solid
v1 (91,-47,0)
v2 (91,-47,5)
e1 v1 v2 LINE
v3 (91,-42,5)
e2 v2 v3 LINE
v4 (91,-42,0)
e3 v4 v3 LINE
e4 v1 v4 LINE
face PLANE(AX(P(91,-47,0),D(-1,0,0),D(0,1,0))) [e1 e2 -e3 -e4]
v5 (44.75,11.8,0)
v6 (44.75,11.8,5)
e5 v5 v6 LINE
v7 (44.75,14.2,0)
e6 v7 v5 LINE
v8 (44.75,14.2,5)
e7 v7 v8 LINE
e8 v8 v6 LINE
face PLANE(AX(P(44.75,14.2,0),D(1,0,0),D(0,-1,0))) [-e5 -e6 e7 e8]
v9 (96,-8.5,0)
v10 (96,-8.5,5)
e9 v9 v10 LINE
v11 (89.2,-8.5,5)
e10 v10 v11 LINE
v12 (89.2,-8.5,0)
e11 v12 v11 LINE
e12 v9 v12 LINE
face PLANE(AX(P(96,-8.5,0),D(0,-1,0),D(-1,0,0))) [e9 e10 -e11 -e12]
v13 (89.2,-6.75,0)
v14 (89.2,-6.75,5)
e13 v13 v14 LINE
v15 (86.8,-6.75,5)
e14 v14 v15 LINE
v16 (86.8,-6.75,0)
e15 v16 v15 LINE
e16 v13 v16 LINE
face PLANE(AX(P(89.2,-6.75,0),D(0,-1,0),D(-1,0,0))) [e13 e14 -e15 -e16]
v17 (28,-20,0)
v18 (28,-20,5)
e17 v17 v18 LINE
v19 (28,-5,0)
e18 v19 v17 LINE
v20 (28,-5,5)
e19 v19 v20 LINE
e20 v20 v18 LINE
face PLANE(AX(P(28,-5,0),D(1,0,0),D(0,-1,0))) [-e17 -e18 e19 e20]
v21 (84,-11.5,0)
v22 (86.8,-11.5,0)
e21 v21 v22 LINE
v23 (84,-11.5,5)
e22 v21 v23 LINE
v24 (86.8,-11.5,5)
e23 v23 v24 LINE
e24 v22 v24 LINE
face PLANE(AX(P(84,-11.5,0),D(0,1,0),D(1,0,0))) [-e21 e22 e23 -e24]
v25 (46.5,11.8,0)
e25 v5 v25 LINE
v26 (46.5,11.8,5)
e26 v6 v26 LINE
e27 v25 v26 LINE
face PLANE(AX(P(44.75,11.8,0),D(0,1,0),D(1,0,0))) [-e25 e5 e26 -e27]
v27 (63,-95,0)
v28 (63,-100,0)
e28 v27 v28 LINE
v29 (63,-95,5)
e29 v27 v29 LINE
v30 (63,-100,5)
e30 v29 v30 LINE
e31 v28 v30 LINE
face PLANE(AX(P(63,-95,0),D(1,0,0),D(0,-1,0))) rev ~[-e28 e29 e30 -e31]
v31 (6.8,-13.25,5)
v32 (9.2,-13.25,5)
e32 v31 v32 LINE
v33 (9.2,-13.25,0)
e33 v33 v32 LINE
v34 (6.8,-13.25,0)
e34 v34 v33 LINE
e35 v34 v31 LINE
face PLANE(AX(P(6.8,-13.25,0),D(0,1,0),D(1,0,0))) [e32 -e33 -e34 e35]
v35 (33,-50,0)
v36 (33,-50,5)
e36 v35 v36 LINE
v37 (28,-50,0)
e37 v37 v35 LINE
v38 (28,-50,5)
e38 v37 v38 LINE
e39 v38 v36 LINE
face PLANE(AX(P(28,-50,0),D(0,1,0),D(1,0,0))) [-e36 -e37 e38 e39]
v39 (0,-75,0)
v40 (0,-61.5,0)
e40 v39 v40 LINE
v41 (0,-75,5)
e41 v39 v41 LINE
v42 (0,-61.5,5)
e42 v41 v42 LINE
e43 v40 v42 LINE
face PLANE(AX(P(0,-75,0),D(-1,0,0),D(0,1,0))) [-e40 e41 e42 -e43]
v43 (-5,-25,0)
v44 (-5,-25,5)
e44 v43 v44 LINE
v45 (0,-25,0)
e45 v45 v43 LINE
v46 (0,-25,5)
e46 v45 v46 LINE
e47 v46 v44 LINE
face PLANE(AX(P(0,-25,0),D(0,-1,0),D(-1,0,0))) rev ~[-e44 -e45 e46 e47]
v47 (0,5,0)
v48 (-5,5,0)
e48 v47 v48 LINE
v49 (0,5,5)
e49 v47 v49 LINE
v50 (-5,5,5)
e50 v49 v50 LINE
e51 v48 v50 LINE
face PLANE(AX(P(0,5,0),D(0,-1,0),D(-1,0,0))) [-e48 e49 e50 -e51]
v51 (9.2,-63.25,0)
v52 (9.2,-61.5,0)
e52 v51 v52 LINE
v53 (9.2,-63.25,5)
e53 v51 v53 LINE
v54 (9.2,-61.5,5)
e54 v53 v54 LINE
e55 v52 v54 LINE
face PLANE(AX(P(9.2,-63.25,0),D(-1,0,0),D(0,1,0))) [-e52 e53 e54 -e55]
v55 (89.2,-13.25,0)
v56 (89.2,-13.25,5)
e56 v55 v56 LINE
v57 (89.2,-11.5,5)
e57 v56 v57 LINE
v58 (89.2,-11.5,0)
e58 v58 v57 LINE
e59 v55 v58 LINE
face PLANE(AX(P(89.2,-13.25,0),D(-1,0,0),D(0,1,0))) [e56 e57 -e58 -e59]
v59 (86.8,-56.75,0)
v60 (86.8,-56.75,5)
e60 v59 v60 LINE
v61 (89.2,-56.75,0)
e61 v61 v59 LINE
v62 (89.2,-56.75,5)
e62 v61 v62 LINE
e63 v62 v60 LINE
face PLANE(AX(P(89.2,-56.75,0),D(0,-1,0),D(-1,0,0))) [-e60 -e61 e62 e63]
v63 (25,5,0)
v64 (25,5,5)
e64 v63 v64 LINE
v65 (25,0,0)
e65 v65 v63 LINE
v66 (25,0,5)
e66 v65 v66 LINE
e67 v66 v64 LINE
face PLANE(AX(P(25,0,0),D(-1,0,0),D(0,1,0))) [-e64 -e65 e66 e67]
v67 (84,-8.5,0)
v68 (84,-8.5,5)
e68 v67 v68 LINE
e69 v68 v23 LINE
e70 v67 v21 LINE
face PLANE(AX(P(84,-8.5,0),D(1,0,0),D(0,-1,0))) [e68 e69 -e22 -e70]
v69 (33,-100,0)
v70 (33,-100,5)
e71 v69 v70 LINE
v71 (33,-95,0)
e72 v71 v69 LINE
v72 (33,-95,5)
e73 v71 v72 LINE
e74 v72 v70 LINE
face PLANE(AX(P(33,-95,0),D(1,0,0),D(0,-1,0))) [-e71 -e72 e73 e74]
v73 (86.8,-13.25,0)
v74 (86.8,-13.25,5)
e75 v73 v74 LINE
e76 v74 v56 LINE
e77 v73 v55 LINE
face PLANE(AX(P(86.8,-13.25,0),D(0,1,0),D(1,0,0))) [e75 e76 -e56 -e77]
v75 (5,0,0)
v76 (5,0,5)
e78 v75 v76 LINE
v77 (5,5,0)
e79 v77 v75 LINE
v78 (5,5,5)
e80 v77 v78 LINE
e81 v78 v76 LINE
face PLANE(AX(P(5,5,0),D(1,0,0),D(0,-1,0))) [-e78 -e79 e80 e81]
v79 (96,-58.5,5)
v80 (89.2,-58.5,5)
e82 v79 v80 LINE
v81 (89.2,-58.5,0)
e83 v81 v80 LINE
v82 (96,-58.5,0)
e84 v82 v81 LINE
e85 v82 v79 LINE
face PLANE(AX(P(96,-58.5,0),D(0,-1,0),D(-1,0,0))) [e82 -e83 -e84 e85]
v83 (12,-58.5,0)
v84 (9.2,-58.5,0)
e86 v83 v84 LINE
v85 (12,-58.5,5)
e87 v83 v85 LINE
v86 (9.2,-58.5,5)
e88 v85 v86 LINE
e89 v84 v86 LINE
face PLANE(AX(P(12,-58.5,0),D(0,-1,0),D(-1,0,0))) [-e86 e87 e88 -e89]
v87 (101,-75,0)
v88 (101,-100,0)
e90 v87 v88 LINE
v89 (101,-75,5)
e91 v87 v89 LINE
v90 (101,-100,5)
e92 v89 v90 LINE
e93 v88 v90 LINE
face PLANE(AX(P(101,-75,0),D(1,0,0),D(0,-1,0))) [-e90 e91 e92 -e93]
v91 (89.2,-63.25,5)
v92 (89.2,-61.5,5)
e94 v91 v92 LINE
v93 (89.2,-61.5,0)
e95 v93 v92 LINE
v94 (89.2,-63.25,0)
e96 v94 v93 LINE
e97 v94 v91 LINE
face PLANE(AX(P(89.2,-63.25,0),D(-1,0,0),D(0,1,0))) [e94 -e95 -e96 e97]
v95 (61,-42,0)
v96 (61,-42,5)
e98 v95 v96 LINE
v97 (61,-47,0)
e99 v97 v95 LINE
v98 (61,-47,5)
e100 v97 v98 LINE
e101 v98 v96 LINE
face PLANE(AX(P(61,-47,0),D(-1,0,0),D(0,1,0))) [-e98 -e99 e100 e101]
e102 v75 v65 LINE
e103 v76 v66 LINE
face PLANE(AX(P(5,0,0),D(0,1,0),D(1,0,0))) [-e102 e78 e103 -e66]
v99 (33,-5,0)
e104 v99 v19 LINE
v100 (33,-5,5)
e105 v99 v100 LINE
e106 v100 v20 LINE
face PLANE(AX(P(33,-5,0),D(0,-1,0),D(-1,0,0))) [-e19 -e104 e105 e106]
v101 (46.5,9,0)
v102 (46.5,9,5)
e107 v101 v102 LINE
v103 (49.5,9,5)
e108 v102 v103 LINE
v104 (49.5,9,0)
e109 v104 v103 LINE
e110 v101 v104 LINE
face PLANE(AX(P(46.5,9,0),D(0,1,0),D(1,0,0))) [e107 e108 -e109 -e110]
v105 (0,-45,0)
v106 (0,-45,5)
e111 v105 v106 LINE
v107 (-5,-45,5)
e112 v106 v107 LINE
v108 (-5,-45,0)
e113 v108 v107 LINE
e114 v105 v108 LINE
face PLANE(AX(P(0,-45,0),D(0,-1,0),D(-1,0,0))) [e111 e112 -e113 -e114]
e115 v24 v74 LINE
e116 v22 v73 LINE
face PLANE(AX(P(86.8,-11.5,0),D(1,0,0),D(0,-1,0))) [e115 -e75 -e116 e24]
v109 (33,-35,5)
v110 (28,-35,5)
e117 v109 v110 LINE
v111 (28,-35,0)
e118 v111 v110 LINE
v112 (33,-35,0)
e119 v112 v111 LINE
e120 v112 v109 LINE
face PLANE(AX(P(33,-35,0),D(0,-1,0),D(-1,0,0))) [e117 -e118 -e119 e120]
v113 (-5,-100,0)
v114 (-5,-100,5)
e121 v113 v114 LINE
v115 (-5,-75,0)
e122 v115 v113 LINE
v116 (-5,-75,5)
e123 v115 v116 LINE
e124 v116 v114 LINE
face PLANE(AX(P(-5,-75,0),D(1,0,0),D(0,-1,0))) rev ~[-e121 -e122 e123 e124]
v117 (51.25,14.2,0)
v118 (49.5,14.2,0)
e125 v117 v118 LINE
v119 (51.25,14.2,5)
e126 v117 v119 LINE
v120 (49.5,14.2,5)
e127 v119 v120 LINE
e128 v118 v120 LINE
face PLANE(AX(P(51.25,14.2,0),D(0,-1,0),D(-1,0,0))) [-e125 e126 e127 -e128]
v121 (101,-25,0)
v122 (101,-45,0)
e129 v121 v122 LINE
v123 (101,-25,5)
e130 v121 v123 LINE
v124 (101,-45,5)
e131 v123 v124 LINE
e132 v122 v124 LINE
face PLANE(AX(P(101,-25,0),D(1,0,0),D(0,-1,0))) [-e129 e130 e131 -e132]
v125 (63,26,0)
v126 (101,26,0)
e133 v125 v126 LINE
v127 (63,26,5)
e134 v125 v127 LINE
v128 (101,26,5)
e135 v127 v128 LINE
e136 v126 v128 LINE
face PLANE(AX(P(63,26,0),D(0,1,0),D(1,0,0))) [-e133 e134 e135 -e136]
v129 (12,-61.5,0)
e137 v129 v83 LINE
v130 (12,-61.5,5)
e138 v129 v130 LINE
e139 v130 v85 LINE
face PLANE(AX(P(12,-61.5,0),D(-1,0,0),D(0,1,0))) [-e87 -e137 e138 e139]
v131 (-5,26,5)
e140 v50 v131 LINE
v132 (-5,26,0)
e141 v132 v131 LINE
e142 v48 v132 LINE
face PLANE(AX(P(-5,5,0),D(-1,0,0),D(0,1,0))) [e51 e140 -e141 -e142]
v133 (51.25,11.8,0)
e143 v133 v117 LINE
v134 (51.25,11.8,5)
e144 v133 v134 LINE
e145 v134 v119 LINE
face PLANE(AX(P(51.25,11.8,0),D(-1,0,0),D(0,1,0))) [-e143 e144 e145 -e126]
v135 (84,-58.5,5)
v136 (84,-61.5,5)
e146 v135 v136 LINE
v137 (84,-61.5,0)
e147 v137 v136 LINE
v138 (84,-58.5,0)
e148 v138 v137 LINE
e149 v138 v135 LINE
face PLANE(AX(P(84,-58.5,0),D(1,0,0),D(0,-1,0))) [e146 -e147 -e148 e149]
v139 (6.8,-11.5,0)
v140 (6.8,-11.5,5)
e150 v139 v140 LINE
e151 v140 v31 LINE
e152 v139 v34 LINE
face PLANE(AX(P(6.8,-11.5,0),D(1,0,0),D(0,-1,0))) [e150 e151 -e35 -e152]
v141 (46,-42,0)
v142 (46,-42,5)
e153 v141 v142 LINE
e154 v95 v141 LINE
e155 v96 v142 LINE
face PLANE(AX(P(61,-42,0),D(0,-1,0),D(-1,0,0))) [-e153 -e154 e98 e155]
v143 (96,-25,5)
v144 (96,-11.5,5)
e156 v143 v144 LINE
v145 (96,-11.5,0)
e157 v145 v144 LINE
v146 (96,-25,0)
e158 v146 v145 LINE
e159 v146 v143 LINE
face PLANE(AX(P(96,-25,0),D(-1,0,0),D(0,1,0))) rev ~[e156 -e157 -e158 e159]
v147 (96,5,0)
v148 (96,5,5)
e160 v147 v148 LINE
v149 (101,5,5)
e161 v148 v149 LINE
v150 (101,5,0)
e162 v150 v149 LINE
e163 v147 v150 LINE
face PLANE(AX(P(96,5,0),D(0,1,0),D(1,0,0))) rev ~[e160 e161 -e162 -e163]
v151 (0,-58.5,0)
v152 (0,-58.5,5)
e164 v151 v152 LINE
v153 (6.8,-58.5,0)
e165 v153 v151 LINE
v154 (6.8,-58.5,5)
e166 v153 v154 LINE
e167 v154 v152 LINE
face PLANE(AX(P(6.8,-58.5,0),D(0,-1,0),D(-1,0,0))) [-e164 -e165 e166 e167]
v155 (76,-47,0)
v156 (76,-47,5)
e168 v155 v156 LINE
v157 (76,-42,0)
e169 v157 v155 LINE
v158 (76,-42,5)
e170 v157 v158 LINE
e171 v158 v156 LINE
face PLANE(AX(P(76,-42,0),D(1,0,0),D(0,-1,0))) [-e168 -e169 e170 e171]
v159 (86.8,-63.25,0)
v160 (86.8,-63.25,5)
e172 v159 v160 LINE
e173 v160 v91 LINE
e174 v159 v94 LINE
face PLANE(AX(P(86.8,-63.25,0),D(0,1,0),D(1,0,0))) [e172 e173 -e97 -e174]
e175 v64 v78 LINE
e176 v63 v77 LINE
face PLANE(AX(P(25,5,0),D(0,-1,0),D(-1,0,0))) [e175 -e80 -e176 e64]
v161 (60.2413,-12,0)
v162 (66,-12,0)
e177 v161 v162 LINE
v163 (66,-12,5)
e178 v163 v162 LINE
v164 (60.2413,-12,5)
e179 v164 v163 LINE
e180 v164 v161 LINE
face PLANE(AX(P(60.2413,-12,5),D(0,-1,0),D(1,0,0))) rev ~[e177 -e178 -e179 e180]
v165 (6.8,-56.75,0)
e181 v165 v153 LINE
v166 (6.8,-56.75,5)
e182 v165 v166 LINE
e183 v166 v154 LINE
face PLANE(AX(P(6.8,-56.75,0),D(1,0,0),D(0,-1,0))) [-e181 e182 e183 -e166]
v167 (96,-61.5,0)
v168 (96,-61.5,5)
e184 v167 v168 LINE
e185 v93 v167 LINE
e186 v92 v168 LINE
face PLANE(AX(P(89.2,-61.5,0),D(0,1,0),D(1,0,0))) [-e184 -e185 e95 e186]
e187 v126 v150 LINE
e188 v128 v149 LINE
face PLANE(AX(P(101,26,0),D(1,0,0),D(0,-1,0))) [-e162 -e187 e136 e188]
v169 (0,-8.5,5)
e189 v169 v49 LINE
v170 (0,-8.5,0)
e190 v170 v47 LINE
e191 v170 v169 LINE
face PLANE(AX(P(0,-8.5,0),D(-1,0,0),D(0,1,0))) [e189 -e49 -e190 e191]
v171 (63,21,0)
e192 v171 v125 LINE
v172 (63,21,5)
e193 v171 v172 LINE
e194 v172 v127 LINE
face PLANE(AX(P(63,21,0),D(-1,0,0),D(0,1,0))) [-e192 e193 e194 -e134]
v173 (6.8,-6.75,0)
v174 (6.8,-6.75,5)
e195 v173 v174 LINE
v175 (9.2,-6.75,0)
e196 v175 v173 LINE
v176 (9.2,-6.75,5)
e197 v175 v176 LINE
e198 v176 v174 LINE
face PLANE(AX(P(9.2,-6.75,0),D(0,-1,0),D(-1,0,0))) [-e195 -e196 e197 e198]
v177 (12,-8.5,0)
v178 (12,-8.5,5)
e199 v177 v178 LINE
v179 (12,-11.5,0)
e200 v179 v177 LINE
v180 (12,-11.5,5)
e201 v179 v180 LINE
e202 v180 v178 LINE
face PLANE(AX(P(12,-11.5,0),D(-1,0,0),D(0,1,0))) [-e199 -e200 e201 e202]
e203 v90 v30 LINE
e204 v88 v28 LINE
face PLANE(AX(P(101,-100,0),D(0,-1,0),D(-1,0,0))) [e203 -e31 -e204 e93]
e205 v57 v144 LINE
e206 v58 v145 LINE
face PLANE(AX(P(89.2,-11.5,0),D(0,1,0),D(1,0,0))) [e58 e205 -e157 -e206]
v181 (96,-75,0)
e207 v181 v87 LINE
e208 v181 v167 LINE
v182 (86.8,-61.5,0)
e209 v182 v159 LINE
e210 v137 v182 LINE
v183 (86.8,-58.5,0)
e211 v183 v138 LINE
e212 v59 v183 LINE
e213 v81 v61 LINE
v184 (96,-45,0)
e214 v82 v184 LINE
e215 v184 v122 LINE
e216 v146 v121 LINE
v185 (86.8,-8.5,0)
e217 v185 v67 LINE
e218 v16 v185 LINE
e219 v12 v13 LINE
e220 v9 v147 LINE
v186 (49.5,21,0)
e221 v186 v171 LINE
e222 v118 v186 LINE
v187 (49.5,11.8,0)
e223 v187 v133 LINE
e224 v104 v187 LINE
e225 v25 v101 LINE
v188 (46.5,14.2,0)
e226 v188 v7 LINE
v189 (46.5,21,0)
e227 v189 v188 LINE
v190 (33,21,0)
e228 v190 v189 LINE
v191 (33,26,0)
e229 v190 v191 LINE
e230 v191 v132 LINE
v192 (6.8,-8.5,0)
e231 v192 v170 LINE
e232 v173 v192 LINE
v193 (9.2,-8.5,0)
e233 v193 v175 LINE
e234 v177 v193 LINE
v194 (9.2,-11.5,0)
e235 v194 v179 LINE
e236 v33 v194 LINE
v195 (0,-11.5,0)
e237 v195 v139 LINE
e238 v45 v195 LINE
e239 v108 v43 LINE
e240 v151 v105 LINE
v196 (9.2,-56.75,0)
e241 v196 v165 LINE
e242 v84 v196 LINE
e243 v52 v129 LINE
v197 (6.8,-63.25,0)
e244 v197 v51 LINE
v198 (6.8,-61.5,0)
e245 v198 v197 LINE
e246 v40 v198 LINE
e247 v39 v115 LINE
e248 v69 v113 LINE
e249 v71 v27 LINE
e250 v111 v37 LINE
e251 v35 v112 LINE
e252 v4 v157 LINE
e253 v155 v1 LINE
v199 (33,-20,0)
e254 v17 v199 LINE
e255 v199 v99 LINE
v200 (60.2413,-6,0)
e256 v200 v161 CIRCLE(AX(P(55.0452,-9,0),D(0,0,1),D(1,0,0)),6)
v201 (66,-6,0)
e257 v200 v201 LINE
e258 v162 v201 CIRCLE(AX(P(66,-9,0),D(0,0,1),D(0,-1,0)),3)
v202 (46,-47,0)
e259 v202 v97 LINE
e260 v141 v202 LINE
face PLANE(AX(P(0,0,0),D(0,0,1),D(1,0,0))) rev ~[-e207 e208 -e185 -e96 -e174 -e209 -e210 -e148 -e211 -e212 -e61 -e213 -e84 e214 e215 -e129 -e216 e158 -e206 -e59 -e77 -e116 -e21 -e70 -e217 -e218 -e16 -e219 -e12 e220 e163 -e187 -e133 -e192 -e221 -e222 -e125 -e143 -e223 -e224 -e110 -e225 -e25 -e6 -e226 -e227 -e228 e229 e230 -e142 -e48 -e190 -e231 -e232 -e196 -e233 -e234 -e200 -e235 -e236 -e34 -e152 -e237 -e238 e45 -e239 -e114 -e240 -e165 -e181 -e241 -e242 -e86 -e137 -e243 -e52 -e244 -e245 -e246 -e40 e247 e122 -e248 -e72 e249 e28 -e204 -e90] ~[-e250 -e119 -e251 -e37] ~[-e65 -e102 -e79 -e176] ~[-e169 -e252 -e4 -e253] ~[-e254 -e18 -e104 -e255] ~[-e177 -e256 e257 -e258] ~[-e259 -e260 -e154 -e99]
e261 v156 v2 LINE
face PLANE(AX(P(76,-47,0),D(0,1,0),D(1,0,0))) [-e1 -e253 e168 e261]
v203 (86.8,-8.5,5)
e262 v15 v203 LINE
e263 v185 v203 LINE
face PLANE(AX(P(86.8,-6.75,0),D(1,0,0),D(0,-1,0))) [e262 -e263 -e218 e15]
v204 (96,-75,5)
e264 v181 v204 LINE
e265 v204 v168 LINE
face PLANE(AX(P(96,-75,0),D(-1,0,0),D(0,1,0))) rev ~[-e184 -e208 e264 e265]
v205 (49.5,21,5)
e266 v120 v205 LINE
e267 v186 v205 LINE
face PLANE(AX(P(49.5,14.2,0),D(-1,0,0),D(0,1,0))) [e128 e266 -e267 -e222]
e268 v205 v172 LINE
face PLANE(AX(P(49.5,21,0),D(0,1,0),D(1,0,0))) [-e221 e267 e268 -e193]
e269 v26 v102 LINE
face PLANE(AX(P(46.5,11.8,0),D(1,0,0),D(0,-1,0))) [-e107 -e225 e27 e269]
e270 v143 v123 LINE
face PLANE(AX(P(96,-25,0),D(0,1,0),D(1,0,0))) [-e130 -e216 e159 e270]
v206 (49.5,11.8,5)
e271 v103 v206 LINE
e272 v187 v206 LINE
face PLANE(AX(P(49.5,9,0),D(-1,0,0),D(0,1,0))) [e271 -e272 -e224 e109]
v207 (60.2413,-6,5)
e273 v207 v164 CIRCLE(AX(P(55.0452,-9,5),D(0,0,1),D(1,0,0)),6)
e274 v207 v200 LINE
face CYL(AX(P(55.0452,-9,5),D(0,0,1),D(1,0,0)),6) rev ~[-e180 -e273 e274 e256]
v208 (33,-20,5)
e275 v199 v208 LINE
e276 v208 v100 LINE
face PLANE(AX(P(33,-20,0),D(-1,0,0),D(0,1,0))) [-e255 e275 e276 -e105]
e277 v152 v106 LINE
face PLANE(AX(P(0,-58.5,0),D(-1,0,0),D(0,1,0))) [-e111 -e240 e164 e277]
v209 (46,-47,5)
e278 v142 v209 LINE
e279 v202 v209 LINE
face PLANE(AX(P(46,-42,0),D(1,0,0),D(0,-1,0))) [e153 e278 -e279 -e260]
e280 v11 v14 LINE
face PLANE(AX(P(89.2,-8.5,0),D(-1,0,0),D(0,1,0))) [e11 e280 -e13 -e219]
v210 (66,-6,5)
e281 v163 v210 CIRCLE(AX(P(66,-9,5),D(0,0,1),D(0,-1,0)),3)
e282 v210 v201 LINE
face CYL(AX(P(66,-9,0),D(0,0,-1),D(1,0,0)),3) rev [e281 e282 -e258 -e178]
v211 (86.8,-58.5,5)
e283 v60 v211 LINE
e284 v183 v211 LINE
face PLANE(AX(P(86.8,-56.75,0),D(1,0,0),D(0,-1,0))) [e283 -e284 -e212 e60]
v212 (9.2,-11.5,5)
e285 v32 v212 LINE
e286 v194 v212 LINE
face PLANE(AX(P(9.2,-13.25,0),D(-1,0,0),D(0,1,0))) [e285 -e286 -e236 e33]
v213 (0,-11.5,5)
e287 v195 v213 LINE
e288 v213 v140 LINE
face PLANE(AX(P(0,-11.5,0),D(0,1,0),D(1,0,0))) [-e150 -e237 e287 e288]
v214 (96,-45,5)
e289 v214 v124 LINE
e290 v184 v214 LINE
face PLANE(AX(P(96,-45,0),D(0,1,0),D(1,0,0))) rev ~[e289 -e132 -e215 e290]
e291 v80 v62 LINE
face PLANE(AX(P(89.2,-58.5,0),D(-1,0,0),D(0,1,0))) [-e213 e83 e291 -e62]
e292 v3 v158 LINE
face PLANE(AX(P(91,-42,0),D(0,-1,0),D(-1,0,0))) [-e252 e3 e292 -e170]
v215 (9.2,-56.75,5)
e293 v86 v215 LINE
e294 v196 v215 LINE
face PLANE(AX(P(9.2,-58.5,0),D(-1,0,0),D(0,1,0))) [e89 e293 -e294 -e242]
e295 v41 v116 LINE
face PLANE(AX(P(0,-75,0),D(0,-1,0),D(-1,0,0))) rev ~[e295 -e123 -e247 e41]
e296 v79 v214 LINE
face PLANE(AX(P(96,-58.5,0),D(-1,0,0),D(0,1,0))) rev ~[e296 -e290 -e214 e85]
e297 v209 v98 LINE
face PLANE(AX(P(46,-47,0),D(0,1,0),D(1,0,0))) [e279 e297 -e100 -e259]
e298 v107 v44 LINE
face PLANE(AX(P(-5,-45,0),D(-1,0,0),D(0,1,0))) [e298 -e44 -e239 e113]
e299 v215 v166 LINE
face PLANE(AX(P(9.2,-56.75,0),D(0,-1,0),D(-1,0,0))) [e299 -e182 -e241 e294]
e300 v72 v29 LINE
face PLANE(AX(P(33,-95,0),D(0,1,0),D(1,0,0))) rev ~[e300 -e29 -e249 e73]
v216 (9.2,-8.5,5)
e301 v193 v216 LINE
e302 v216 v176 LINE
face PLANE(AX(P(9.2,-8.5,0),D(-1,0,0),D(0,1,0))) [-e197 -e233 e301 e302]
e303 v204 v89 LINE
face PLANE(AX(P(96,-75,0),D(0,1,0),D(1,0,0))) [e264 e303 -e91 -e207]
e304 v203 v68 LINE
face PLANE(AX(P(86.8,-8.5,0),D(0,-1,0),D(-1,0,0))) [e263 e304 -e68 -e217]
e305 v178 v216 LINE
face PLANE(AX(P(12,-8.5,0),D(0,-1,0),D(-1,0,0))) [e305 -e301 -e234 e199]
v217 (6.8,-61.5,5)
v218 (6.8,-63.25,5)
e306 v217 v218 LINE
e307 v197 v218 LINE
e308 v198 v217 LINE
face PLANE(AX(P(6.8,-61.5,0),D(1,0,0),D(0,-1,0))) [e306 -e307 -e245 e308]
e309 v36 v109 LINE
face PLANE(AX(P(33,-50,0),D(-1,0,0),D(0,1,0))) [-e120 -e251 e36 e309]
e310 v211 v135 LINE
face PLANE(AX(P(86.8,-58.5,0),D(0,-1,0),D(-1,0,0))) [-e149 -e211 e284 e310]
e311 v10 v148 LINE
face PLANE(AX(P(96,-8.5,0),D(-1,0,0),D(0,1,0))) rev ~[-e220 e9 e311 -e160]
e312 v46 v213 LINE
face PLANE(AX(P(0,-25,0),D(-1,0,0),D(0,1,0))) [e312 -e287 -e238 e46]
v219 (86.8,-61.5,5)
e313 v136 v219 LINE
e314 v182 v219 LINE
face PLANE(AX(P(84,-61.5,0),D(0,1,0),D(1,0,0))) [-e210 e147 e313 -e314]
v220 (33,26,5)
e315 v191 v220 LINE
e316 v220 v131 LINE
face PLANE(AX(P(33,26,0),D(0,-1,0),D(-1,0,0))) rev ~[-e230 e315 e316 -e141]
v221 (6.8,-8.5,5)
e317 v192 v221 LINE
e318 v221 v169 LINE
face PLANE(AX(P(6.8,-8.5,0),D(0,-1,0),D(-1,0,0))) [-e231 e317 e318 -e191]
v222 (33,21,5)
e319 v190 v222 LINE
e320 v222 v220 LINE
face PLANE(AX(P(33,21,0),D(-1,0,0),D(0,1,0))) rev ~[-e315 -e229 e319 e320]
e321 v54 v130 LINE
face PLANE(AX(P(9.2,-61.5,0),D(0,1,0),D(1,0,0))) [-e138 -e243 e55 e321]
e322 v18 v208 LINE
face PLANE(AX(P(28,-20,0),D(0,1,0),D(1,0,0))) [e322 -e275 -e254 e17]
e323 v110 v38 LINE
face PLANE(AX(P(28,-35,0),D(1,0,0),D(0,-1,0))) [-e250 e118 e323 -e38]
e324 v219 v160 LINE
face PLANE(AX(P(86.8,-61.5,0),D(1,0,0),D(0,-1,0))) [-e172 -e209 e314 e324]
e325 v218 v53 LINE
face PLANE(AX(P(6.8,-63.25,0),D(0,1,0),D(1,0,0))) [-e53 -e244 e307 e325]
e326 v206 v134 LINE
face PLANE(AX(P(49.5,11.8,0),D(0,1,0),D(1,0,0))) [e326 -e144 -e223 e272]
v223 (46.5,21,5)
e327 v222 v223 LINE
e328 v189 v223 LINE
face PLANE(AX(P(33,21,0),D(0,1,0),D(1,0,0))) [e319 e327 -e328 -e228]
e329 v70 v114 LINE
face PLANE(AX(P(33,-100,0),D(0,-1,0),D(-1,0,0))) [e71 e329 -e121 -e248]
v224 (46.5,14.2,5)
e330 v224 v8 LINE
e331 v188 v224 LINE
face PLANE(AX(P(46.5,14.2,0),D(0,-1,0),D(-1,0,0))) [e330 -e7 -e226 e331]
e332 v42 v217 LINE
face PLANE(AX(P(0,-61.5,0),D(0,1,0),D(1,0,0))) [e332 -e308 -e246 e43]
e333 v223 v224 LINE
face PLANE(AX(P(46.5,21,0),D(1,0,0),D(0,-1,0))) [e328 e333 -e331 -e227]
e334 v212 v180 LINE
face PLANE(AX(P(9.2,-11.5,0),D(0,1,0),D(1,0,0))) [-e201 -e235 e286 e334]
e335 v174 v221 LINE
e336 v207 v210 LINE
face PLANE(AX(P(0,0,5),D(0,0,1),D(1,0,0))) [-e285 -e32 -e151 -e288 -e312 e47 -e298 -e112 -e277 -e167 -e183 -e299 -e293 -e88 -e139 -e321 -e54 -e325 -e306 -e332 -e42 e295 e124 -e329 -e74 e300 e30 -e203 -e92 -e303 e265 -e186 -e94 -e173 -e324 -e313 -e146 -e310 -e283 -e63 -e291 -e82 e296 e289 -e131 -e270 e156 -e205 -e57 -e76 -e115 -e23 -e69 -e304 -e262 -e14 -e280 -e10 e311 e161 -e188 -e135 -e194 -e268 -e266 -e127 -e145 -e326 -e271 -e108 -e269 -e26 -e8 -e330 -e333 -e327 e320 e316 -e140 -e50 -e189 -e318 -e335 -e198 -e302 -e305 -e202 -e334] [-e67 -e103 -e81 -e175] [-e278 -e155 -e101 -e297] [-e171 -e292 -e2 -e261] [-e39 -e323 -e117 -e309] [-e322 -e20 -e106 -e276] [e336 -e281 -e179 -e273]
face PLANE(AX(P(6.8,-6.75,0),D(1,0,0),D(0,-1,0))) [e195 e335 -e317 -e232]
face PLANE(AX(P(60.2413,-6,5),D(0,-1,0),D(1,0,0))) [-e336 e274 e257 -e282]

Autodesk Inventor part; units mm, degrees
ref_plane "YZ Plane" through (0, 0, 0) normal (1, 0, 0) x (0, 1, 0)
ref_plane "XZ Plane" through (0, 0, 0) normal (0, 1, 0) x (-1, 0, 0)
ref_plane "XY Plane" through (0, 0, 0) normal (0, 0, 1) x (1, 0, 0)
sketch "草图1" plane through (0, 0, 0) normal (0, 0, 1) x (1, 0, 0)
  circle A0 centre (37.7249, -83) radius 3.6 projected
  line L0 (65, -83) -> (65, -51) projected
  line L1 (65, -51) -> (47, -51) projected
  line L2 (47, -51) -> (47, -83) projected
  line L3 (47, -83) -> (65, -83) projected
  line L4 (89.2, -11.5) -> (96, -11.5) projected
  line L5 (96, -25) -> (96, -11.5) projected
  line L6 (96, -25) -> (101, -25) projected
  line L7 (101, -25) -> (101, -45) projected
  line L8 (96, -45) -> (101, -45) projected
  line L9 (96, -58.5) -> (96, -45) projected
  line L10 (96, -58.5) -> (89.2, -58.5) projected
  line L11 (89.2, -58.5) -> (89.2, -56.75) projected
  line L12 (89.2, -56.75) -> (86.8, -56.75) projected
  line L13 (86.8, -56.75) -> (86.8, -58.5) projected
  line L14 (86.8, -58.5) -> (84, -58.5) projected
  line L15 (84, -58.5) -> (84, -61.5) projected
  line L16 (84, -61.5) -> (86.8, -61.5) projected
  line L17 (86.8, -61.5) -> (86.8, -63.25) projected
  line L18 (86.8, -63.25) -> (89.2, -63.25) projected
  line L19 (89.2, -63.25) -> (89.2, -61.5) projected
  line L20 (89.2, -61.5) -> (96, -61.5) projected
  line L21 (96, -75) -> (96, -61.5) projected
  line L22 (96, -75) -> (101, -75) projected
  line L23 (101, -75) -> (101, -100) projected
  line L24 (101, -100) -> (63, -100) projected
  line L25 (63, -95) -> (63, -100) projected
  line L26 (33, -95) -> (63, -95) projected
  line L27 (33, -95) -> (33, -100) projected
  line L28 (33, -100) -> (-5, -100) projected
  line L29 (-5, -75) -> (-5, -100) projected
  line L30 (0, -75) -> (-5, -75) projected
  line L31 (0, -75) -> (0, -61.5) projected
  line L32 (0, -61.5) -> (6.8, -61.5) projected
  line L33 (6.8, -61.5) -> (6.8, -63.25) projected
  line L34 (6.8, -63.25) -> (9.2, -63.25) projected
  line L35 (9.2, -63.25) -> (9.2, -61.5) projected
  line L36 (9.2, -61.5) -> (12, -61.5) projected
  line L37 (12, -61.5) -> (12, -58.5) projected
  line L38 (12, -58.5) -> (9.2, -58.5) projected
  line L39 (9.2, -58.5) -> (9.2, -56.75) projected
  line L40 (9.2, -56.75) -> (6.8, -56.75) projected
  line L41 (6.8, -56.75) -> (6.8, -58.5) projected
  line L42 (6.8, -58.5) -> (0, -58.5) projected
  line L43 (0, -58.5) -> (0, -45) projected
  line L44 (0, -45) -> (-5, -45) projected
  line L45 (-5, -45) -> (-5, -25) projected
  line L46 (0, -25) -> (-5, -25) projected
  line L47 (0, -25) -> (0, -11.5) projected
  line L48 (0, -11.5) -> (6.8, -11.5) projected
  line L49 (6.8, -11.5) -> (6.8, -13.25) projected
  line L50 (6.8, -13.25) -> (9.2, -13.25) projected
  line L51 (9.2, -13.25) -> (9.2, -11.5) projected
  line L52 (9.2, -11.5) -> (12, -11.5) projected
  line L53 (12, -11.5) -> (12, -8.5) projected
  line L54 (12, -8.5) -> (9.2, -8.5) projected
  line L55 (9.2, -8.5) -> (9.2, -6.75) projected
  line L56 (9.2, -6.75) -> (6.8, -6.75) projected
  line L57 (6.8, -6.75) -> (6.8, -8.5) projected
  line L58 (6.8, -8.5) -> (0, -8.5) projected
  line L59 (0, -8.5) -> (0, 5) projected
  line L60 (0, 5) -> (-5, 5) projected
  line L61 (-5, 5) -> (-5, 26) projected
  line L62 (33, 26) -> (-5, 26) projected
  line L63 (33, 21) -> (33, 26) projected
  line L64 (33, 21) -> (46.5, 21) projected
  line L65 (46.5, 21) -> (46.5, 14.2) projected
  line L66 (46.5, 14.2) -> (44.75, 14.2) projected
  line L67 (44.75, 14.2) -> (44.75, 11.8) projected
  line L68 (44.75, 11.8) -> (46.5, 11.8) projected
  line L69 (46.5, 11.8) -> (46.5, 9) projected
  line L70 (46.5, 9) -> (49.5, 9) projected
  line L71 (49.5, 9) -> (49.5, 11.8) projected
  line L72 (49.5, 11.8) -> (51.25, 11.8) projected
  line L73 (51.25, 11.8) -> (51.25, 14.2) projected
  line L74 (51.25, 14.2) -> (49.5, 14.2) projected
  line L75 (49.5, 14.2) -> (49.5, 21) projected
  line L76 (49.5, 21) -> (63, 21) projected
  line L77 (63, 21) -> (63, 26) projected
  line L78 (63, 26) -> (101, 26) projected
  line L79 (101, 26) -> (101, 5) projected
  line L80 (96, 5) -> (101, 5) projected
  line L81 (96, -8.5) -> (96, 5) projected
  line L82 (96, -8.5) -> (89.2, -8.5) projected
  line L83 (89.2, -8.5) -> (89.2, -6.75) projected
  line L84 (89.2, -6.75) -> (86.8, -6.75) projected
  line L85 (86.8, -6.75) -> (86.8, -8.5) projected
  line L86 (86.8, -8.5) -> (84, -8.5) projected
  line L87 (84, -8.5) -> (84, -11.5) projected
  line L88 (84, -11.5) -> (86.8, -11.5) projected
  line L89 (86.8, -11.5) -> (86.8, -13.25) projected
  line L90 (86.8, -13.25) -> (89.2, -13.25) projected
  line L91 (89.2, -13.25) -> (89.2, -11.5) projected
  line L92 (25, 0) -> (25, 5) projected
  line L93 (25, 5) -> (5, 5) projected
  line L94 (5, 5) -> (5, 0) projected
  line L95 (5, 0) -> (25, 0) projected
  line L96 (28, -35) -> (28, -50) projected
  line L97 (28, -50) -> (33, -50) projected
  line L98 (33, -50) -> (33, -35) projected
  line L99 (33, -35) -> (28, -35) projected
  line L100 (28, -5) -> (28, -20) projected
  line L101 (28, -20) -> (33, -20) projected
  line L102 (33, -20) -> (33, -5) projected
  line L103 (33, -5) -> (28, -5) projected
  line L104 (46, -42) -> (46, -47) projected
  line L105 (46, -47) -> (61, -47) projected
  line L106 (61, -47) -> (61, -42) projected
  line L107 (61, -42) -> (46, -42) projected
  line L108 (76, -42) -> (76, -47) projected
  line L109 (76, -47) -> (91, -47) projected
  line L110 (91, -47) -> (91, -42) projected
  line L111 (91, -42) -> (76, -42) projected
  circle A1 centre (66, -9) radius 3 projected
  point P0 (0, 0)
extrude "拉伸1" add sketch "草图1" along normal blind 5 contours A0 | L3 L2 L1 L0 | L4 L5 L6 L7 L8 L9 L10 L11 L12 L13 L14 L15 L16 L17 L18 L19 L20 L21 L22 L23 L24 L25 L26 L27 L28 L29 L30 L31 L32 L33 L34 L35 L36 L37 L38 L39 L40 L41 L42 L43 L44 L45 L46 L47 L48 L49 L50 L51 L52 L53 L54 L55 L56 L57 L58 L59 L60 L61 L62 L63 L64 L65 L66 L67 L68 L69 L70 L71 L72 L73 L74 L75 L76 L77 L78 L79 L80 L81 L82 L83 L84 L85 L86 L87 L88 L89 L90 L91
sketch "草图2" plane through (0, 0, 5) normal (0, 0, 1) x (1, 0, 0)
  circle A0 centre (66, -9) radius 3 projected
  line L0 (96, -25) -> (96, -11.5) projected
  circle A1 centre (55.0452, -9) radius 6
  line L1 (60.2413, -12) -> (66, -12)
  line L2 (60.2413, -6) -> (66, -6)
  point P0 (0, 0)
  dimension "d2" = 12
extrude "拉伸2" cut sketch "草图2" against normal through all contours A0 L1 A1 L2 | A1
properties part number "left"
